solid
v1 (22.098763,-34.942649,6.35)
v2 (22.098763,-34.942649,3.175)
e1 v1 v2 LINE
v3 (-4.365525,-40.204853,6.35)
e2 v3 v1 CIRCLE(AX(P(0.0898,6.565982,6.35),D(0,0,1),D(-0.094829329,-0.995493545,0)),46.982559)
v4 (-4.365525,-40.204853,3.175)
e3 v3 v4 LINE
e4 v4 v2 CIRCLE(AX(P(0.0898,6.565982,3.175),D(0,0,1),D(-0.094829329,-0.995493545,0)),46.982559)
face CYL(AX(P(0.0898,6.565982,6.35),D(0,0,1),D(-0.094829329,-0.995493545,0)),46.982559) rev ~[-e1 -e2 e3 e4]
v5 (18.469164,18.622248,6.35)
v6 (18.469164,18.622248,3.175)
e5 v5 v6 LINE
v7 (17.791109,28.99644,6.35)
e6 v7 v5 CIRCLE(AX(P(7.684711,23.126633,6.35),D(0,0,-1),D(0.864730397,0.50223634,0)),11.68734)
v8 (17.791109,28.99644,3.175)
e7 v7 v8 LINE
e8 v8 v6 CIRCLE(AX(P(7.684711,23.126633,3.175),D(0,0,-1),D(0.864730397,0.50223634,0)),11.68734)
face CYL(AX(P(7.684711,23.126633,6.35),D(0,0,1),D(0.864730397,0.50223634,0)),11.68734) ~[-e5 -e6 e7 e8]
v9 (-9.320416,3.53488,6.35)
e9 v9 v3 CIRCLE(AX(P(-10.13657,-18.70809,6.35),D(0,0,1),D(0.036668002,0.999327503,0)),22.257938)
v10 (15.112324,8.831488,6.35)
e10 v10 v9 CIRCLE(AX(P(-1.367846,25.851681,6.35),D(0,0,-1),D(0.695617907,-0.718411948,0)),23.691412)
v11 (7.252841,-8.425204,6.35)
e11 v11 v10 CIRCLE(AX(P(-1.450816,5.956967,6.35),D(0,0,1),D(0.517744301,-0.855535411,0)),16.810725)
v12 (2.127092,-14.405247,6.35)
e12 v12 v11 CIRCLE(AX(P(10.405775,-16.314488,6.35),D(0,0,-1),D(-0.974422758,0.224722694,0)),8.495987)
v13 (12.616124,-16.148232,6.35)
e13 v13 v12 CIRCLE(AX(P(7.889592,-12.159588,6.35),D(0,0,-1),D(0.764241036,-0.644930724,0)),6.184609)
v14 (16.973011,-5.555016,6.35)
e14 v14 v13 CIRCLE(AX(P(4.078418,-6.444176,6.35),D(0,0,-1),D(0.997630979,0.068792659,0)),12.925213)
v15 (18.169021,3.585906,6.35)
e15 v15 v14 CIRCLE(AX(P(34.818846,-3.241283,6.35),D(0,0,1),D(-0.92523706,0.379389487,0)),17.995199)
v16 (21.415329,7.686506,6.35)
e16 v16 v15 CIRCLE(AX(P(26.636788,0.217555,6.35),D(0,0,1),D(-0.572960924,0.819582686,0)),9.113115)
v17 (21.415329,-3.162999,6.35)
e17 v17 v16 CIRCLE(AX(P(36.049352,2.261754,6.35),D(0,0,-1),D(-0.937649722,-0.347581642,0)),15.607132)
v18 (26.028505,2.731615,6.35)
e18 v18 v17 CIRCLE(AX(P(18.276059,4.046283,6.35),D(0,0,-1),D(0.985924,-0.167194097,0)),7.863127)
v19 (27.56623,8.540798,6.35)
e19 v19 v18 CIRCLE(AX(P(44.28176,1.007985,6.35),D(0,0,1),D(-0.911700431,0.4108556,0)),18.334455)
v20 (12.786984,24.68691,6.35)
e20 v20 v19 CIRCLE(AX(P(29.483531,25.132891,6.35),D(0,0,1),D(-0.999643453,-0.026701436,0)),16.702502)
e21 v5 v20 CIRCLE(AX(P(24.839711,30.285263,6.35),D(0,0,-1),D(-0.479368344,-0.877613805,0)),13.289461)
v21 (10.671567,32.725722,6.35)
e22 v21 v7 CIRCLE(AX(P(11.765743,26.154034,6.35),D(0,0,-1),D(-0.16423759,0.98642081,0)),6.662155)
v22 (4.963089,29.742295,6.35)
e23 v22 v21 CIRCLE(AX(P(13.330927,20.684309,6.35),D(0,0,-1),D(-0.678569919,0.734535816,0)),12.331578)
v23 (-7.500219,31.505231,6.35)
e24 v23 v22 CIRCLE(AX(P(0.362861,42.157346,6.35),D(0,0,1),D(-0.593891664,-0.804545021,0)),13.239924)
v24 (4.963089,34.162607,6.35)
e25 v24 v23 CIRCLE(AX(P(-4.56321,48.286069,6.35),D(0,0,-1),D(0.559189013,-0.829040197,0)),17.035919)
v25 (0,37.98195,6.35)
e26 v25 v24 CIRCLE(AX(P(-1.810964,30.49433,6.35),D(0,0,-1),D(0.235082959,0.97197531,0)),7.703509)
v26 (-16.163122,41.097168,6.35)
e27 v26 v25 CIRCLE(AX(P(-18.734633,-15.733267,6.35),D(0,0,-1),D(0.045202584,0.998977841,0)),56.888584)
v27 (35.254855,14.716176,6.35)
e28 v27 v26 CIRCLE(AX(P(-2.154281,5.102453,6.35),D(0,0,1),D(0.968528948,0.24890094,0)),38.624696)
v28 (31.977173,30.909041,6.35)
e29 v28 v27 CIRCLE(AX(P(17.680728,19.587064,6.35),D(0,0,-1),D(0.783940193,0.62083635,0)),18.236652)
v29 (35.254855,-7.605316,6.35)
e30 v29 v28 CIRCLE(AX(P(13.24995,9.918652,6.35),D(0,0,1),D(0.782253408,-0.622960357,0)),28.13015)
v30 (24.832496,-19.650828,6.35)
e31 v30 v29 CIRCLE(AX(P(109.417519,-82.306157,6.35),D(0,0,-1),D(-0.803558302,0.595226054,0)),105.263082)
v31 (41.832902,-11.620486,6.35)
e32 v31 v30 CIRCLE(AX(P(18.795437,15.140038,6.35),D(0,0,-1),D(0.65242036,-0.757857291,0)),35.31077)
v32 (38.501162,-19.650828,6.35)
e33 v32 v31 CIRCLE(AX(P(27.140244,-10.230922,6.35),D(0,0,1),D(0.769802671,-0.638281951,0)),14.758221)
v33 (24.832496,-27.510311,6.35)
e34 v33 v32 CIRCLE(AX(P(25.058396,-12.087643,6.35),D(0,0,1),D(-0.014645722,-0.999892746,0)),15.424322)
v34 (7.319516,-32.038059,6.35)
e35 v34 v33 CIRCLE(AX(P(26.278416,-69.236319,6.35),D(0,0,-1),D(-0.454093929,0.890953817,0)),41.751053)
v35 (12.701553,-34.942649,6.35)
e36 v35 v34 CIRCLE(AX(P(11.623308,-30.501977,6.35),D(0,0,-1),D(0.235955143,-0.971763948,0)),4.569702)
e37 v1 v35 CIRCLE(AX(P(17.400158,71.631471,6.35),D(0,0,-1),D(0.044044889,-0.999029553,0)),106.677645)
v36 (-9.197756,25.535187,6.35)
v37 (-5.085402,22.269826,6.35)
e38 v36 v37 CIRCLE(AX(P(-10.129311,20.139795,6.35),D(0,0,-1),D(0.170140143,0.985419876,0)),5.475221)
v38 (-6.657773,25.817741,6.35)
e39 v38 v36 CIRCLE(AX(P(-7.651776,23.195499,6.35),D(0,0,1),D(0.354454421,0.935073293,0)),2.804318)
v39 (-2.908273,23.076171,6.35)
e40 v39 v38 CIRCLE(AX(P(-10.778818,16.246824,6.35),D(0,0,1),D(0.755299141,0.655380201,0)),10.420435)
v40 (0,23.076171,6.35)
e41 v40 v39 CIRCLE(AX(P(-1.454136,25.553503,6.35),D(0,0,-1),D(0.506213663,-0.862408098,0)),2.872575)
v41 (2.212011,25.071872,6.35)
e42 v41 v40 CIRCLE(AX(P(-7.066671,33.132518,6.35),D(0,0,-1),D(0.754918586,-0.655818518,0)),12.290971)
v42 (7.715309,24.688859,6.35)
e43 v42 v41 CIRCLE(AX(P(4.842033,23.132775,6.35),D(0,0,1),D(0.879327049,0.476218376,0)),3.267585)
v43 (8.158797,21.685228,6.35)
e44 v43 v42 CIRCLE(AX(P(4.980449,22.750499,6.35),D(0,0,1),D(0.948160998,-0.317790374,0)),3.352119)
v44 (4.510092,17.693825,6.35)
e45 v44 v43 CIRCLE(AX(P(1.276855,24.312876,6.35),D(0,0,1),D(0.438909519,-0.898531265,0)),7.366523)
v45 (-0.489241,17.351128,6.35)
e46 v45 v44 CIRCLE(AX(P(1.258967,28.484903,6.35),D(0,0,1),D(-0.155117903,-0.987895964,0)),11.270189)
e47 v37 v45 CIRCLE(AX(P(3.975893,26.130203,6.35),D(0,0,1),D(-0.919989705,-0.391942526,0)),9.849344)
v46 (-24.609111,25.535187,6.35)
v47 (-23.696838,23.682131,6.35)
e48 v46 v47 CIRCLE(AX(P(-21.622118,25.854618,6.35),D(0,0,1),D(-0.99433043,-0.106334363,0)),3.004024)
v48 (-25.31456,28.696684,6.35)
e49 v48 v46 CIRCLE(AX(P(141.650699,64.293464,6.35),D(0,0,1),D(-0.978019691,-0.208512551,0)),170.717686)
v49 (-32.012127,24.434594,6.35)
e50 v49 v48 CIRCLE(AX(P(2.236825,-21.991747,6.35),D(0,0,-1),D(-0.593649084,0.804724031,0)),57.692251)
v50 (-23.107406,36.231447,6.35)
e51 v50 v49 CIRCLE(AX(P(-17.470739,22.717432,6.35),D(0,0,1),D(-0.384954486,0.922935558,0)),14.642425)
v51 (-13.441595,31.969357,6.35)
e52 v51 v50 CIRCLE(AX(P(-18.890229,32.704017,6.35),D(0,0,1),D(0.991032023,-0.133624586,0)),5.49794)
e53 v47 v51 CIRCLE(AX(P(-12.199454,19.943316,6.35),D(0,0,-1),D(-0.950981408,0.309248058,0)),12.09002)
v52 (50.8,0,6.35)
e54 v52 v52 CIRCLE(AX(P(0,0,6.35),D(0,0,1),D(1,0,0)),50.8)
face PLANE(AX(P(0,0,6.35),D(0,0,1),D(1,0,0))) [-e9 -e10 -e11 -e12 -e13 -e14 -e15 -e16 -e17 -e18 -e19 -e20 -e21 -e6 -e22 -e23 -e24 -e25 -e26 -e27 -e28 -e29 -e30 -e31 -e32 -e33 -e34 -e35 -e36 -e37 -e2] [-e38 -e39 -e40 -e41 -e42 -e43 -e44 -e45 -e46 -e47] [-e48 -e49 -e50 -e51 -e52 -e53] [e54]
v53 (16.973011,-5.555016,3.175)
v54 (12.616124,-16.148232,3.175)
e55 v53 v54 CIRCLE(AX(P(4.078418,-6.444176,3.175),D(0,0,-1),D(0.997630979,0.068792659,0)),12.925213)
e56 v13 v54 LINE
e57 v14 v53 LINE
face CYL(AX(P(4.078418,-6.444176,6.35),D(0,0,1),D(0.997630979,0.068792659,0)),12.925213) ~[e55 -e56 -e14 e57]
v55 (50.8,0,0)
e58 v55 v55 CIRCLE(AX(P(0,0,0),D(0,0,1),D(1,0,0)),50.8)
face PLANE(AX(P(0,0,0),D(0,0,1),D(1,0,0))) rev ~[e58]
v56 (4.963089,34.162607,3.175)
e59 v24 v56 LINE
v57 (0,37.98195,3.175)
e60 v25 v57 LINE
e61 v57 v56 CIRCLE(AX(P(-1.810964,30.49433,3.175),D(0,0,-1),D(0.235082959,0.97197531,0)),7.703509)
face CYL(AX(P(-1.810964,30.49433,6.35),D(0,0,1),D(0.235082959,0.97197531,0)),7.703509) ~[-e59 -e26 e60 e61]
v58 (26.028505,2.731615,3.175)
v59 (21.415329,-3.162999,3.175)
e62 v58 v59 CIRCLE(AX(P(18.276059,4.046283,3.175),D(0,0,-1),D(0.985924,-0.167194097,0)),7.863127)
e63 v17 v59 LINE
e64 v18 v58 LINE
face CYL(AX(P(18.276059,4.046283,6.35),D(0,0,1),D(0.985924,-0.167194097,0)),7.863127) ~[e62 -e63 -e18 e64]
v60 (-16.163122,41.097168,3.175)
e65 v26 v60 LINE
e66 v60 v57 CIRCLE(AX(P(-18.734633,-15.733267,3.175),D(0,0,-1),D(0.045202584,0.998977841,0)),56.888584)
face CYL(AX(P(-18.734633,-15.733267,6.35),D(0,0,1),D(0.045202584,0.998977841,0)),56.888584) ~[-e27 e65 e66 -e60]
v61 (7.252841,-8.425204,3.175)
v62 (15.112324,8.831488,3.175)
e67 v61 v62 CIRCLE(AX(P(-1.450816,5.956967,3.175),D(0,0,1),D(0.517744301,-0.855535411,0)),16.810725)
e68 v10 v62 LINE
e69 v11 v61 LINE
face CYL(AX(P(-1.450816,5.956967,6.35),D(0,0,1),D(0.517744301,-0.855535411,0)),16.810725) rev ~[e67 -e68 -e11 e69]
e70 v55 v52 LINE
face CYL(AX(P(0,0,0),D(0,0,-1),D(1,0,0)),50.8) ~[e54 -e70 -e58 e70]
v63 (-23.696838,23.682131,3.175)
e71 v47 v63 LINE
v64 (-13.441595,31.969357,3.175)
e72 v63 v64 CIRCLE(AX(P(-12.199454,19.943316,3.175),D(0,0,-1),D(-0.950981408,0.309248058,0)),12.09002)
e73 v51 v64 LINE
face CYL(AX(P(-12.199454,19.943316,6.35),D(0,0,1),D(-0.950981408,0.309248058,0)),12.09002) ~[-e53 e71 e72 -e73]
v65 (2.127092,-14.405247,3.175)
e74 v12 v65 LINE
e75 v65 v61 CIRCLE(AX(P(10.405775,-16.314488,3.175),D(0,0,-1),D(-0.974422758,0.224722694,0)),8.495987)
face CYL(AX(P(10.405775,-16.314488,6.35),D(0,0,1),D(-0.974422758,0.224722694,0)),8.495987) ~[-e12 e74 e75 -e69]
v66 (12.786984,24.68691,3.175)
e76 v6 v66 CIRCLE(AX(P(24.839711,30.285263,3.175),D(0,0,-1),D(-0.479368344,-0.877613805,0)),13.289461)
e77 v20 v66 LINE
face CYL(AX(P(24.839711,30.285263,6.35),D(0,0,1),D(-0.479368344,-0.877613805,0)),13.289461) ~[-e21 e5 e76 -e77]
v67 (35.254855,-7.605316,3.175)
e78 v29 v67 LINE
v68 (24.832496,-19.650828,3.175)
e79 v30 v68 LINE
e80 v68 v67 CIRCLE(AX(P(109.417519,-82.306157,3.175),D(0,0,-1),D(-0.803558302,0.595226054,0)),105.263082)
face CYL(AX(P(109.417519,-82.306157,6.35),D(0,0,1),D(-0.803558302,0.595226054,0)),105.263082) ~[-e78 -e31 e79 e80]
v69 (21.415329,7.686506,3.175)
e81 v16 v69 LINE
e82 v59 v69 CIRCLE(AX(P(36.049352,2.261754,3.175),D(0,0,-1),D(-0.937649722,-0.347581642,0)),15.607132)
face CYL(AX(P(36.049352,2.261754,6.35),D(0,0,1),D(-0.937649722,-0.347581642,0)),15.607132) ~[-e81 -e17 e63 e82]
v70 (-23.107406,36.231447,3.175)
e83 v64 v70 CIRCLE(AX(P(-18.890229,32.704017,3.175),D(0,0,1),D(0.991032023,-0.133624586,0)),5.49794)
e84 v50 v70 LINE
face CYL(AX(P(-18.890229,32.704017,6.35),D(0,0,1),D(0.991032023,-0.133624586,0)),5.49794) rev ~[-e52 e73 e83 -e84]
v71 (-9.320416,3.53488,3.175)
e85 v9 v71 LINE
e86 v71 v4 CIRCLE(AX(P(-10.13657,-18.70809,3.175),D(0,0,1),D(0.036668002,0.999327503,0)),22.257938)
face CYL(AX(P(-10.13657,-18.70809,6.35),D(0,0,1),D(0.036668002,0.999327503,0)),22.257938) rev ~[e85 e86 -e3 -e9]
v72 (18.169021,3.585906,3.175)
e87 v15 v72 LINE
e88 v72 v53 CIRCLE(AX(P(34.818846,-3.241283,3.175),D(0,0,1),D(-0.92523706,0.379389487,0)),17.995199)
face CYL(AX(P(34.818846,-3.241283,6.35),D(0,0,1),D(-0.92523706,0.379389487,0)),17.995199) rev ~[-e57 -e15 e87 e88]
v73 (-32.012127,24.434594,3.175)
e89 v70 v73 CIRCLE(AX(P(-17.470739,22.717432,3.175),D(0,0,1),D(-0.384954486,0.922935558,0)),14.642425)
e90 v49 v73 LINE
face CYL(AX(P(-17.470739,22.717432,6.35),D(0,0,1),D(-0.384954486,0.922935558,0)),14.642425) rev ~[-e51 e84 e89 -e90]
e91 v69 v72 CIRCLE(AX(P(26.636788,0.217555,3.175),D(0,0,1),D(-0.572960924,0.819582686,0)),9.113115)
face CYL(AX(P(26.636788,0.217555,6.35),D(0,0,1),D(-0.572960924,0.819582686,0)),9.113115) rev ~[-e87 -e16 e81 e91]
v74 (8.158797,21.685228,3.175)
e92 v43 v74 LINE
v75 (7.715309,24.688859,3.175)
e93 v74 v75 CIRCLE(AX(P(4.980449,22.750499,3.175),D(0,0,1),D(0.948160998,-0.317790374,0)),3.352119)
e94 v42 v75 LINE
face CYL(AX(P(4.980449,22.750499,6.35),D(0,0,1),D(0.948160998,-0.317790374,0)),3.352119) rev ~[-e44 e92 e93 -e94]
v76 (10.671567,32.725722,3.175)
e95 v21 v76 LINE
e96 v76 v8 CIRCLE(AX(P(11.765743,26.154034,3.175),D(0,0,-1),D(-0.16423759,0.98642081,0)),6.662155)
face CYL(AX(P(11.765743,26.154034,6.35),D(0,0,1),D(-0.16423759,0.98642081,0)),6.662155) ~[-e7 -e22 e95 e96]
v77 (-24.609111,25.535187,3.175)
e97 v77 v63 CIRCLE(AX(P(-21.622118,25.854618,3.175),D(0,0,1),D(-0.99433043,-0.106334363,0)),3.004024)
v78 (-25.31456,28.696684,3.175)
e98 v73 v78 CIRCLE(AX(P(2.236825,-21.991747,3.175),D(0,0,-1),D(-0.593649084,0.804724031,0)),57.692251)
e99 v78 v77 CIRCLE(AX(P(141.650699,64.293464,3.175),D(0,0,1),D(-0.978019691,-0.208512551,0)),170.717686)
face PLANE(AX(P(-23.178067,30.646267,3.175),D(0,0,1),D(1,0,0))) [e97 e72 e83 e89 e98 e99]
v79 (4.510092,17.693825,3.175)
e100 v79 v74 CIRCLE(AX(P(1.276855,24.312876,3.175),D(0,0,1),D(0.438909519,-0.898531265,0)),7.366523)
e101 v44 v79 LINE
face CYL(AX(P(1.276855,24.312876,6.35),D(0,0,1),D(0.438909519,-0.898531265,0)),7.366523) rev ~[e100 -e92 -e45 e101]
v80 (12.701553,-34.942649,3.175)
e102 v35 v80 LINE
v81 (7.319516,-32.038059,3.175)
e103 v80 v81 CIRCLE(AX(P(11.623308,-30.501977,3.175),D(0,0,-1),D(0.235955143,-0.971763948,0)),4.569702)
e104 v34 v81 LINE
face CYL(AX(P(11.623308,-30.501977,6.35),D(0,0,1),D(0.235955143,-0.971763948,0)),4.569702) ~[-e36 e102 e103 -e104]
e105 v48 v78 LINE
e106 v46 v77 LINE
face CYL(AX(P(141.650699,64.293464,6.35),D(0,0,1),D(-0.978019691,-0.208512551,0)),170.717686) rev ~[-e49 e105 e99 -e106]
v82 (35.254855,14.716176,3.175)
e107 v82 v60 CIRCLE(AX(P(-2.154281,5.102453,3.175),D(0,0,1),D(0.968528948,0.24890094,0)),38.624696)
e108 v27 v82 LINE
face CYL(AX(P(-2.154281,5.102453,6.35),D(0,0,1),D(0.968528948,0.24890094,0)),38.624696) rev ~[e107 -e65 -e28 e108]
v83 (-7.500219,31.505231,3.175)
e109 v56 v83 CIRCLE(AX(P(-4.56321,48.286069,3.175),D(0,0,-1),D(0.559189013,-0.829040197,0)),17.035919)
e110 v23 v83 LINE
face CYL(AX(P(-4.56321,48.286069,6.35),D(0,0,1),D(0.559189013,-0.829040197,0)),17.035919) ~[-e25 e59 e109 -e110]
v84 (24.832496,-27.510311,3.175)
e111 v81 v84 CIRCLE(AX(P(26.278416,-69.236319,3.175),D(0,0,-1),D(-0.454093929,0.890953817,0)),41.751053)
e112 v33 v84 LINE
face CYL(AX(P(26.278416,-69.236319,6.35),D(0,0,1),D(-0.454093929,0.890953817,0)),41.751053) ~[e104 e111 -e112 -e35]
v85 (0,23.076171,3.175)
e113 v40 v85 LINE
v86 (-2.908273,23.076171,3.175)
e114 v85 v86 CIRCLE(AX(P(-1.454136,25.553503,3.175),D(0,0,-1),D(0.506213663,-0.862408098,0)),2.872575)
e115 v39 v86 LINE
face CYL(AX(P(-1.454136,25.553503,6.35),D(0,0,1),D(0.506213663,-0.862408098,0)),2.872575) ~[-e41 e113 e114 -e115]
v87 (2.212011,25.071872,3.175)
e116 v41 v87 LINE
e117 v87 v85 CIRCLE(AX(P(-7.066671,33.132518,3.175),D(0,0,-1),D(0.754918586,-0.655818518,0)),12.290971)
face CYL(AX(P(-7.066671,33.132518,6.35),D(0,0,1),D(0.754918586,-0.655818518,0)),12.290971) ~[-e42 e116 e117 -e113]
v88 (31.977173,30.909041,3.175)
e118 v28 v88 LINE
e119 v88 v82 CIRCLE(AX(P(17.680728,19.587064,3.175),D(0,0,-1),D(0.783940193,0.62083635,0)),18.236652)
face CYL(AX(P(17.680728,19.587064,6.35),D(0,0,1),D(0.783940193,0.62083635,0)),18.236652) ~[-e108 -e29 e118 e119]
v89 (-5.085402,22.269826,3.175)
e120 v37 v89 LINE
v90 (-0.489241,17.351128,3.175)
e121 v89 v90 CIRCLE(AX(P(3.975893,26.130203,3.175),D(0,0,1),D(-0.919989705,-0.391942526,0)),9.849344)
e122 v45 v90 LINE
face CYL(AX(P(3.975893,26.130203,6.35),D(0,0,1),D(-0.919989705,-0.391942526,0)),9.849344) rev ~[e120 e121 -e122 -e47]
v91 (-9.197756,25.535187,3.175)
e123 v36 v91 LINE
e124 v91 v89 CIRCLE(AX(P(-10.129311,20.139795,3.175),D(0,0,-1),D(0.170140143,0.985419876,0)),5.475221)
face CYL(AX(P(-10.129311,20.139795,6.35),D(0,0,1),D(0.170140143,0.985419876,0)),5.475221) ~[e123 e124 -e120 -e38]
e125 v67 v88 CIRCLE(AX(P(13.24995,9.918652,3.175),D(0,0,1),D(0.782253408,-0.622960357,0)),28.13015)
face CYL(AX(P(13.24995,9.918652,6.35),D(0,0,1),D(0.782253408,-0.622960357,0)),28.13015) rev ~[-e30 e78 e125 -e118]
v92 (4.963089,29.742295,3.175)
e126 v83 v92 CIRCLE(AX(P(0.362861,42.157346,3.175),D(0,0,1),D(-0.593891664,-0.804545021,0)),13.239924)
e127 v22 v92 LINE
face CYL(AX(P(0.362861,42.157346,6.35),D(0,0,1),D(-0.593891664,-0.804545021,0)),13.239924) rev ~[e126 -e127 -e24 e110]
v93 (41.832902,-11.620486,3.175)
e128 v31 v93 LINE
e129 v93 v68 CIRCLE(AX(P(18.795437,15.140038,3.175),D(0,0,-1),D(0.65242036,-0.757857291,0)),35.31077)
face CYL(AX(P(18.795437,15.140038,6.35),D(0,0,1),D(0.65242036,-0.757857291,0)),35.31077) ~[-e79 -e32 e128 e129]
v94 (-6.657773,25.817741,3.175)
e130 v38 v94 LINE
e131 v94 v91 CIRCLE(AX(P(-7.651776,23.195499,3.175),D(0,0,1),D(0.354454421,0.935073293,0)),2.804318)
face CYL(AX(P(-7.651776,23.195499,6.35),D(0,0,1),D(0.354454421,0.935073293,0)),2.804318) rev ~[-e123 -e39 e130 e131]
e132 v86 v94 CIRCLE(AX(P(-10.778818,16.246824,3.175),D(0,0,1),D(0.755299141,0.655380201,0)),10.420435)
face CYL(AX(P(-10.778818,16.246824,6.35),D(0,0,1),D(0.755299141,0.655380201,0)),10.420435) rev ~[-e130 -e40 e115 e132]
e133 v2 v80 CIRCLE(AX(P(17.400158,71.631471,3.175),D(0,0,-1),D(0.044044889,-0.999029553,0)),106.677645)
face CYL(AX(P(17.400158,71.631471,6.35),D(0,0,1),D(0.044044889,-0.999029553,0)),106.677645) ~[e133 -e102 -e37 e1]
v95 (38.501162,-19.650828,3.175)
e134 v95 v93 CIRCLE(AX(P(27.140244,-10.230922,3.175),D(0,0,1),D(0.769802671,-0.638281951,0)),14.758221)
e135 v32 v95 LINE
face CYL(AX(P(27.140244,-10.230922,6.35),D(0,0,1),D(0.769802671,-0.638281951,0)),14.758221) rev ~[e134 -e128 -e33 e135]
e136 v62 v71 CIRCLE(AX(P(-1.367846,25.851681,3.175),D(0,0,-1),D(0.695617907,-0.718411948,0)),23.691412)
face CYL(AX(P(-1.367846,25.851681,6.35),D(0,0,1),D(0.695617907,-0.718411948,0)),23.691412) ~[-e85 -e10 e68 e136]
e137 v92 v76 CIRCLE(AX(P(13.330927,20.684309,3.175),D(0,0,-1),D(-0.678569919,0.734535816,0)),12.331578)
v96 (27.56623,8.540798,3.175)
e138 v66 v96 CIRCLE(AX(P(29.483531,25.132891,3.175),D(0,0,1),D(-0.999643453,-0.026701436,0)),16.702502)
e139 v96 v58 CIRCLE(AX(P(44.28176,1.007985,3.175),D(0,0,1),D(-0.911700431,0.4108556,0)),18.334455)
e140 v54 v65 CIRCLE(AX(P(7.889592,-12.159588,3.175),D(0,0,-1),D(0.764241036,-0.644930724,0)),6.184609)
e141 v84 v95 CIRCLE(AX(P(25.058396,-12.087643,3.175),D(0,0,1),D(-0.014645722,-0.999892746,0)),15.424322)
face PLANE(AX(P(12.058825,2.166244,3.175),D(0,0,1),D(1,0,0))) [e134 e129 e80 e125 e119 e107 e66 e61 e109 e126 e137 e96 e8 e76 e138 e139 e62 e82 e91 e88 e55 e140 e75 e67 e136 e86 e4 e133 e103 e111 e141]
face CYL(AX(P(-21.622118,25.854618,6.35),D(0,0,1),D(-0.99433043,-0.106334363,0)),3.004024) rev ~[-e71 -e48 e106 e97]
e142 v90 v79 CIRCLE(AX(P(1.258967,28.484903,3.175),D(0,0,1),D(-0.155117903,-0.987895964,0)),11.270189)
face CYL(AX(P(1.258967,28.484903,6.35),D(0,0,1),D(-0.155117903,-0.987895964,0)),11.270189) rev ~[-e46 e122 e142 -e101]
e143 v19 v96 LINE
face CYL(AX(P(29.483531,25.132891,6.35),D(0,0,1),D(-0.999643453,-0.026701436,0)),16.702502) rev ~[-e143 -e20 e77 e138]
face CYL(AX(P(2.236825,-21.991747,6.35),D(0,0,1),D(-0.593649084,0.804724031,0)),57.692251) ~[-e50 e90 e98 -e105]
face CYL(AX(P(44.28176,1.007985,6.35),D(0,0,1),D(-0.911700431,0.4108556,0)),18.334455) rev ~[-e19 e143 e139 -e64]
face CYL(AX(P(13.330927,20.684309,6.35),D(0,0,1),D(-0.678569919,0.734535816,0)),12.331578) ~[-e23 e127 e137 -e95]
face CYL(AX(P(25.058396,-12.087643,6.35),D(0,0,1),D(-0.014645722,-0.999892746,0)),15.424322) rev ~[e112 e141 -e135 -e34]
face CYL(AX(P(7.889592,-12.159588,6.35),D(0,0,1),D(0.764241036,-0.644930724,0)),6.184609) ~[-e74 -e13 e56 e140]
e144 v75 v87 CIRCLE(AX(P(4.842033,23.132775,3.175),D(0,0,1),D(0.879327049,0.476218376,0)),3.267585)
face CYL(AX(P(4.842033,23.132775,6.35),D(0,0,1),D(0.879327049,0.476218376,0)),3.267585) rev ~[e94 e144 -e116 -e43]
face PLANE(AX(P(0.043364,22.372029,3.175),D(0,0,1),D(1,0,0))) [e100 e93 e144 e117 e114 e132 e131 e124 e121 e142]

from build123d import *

# Parameters (mm, degrees)
F0_R     = 50.8
F1_DEPTH = 6.35
F3_DEPTH = 3.175


with BuildPart() as f1:
    # F0 (on Top) → F1 (new body)
    with BuildSketch(Plane.XY):
        Circle(F0_R)
    extrude(amount=F1_DEPTH)

    # F2 (on face) → F3 (cut)
    with BuildSketch(Plane.XY.offset(6.35)):
        with BuildLine():
            ThreePointArc((15.112324, 8.831488), (3.651467, 2.698075), (-9.320416, 3.53488))
            ThreePointArc((-9.320416, 3.53488), (-32.253054, -21.213472), (-4.365525, -40.204853))
            ThreePointArc((-4.365525, -40.204853), (9.25251, -39.514444), (22.098763, -34.942649))
            ThreePointArc((22.098763, -34.942649), (17.400158, -35.046174), (12.701553, -34.942649))
            ThreePointArc((12.701553, -34.942649), (9.453009, -34.523417), (7.319516, -32.038059))
            ThreePointArc((7.319516, -32.038059), (15.827852, -28.814343), (24.832496, -27.510311))
            ThreePointArc((24.832496, -27.510311), (32.746976, -25.459085), (38.501162, -19.650828))
            ThreePointArc((38.501162, -19.650828), (40.771781, -15.886564), (41.832902, -11.620486))
            ThreePointArc((41.832902, -11.620486), (33.877001, -16.787957), (24.832496, -19.650828))
            ThreePointArc((24.832496, -19.650828), (29.815505, -13.430648), (35.254855, -7.605316))
            ThreePointArc((35.254855, -7.605316), (41.278783, 12.303986), (31.977173, 30.909041))
            ThreePointArc((31.977173, 30.909041), (35.554887, 23.205066), (35.254855, 14.716176))
            ThreePointArc((35.254855, 14.716176), (15.477583, 39.467908), (-16.163122, 41.097168))
            ThreePointArc((-16.163122, 41.097168), (-7.968292, 40.127246), (0, 37.98195))
            ThreePointArc((0, 37.98195), (2.887171, 36.599375), (4.963089, 34.162607))
            ThreePointArc((4.963089, 34.162607), (-1.010732, 31.624663), (-7.500219, 31.505231))
            ThreePointArc((-7.500219, 31.505231), (-1.491468, 29.04792), (4.963089, 29.742295))
            ThreePointArc((4.963089, 29.742295), (7.619099, 31.6133), (10.671567, 32.725722))
            ThreePointArc((10.671567, 32.725722), (14.857029, 32.055581), (17.791109, 28.99644))
            ThreePointArc((17.791109, 28.99644), (19.347167, 23.888888), (18.469164, 18.622248))
            ThreePointArc((18.469164, 18.622248), (15.14181, 21.198982), (12.786984, 24.68691))
            ThreePointArc((12.786984, 24.68691), (17.163098, 13.855457), (27.56623, 8.540798))
            ThreePointArc((27.56623, 8.540798), (26.557747, 5.699635), (26.028505, 2.731615))
            ThreePointArc((26.028505, 2.731615), (24.468311, -0.799827), (21.415329, -3.162999))
            ThreePointArc((21.415329, -3.162999), (20.44222, 2.261754), (21.415329, 7.686506))
            ThreePointArc((21.415329, 7.686506), (19.491688, 5.874092), (18.169021, 3.585906))
            ThreePointArc((18.169021, 3.585906), (16.975731, -0.906667), (16.973011, -5.555016))
            ThreePointArc((16.973011, -5.555016), (16.032075, -11.360599), (12.616124, -16.148232))
            ThreePointArc((12.616124, -16.148232), (6.875784, -18.260537), (2.127092, -14.405247))
            ThreePointArc((2.127092, -14.405247), (3.95514, -10.785374), (7.252841, -8.425204))
            ThreePointArc((7.252841, -8.425204), (13.847913, -1.010771), (15.112324, 8.831488))
        make_face()
        with BuildLine():
            ThreePointArc((-23.696838, 23.682131), (-19.798362, 29.346782), (-13.441595, 31.969357))
            ThreePointArc((-13.441595, 31.969357), (-16.672015, 37.73461), (-23.107406, 36.231447))
            ThreePointArc((-23.107406, 36.231447), (-29.15748, 31.539036), (-32.012127, 24.434594))
            ThreePointArc((-32.012127, 24.434594), (-28.736741, 26.680977), (-25.31456, 28.696684))
            ThreePointArc((-25.31456, 28.696684), (-24.969334, 27.114262), (-24.609111, 25.535187))
            ThreePointArc((-24.609111, 25.535187), (-24.317241, 24.527789), (-23.696838, 23.682131))
        make_face()
        with BuildLine():
            ThreePointArc((-9.197756, 25.535187), (-6.724581, 24.427669), (-5.085402, 22.269826))
            ThreePointArc((-5.085402, 22.269826), (-3.220597, 19.405613), (-0.489241, 17.351128))
            ThreePointArc((-0.489241, 17.351128), (2.029713, 17.241099), (4.510092, 17.693825))
            ThreePointArc((4.510092, 17.693825), (6.713953, 19.342602), (8.158797, 21.685228))
            ThreePointArc((8.158797, 21.685228), (8.296615, 23.240133), (7.715309, 24.688859))
            ThreePointArc((7.715309, 24.688859), (5.068899, 26.392475), (2.212011, 25.071872))
            ThreePointArc((2.212011, 25.071872), (1.166697, 24.006752), (0, 23.076171))
            ThreePointArc((0, 23.076171), (-1.454137, 22.680928), (-2.908273, 23.076171))
            ThreePointArc((-2.908273, 23.076171), (-4.628321, 24.658533), (-6.657773, 25.817741))
            ThreePointArc((-6.657773, 25.817741), (-7.961822, 25.982624), (-9.197756, 25.535187))
        make_face()
    extrude(amount=-F3_DEPTH, mode=Mode.SUBTRACT)


solid = f1.part
